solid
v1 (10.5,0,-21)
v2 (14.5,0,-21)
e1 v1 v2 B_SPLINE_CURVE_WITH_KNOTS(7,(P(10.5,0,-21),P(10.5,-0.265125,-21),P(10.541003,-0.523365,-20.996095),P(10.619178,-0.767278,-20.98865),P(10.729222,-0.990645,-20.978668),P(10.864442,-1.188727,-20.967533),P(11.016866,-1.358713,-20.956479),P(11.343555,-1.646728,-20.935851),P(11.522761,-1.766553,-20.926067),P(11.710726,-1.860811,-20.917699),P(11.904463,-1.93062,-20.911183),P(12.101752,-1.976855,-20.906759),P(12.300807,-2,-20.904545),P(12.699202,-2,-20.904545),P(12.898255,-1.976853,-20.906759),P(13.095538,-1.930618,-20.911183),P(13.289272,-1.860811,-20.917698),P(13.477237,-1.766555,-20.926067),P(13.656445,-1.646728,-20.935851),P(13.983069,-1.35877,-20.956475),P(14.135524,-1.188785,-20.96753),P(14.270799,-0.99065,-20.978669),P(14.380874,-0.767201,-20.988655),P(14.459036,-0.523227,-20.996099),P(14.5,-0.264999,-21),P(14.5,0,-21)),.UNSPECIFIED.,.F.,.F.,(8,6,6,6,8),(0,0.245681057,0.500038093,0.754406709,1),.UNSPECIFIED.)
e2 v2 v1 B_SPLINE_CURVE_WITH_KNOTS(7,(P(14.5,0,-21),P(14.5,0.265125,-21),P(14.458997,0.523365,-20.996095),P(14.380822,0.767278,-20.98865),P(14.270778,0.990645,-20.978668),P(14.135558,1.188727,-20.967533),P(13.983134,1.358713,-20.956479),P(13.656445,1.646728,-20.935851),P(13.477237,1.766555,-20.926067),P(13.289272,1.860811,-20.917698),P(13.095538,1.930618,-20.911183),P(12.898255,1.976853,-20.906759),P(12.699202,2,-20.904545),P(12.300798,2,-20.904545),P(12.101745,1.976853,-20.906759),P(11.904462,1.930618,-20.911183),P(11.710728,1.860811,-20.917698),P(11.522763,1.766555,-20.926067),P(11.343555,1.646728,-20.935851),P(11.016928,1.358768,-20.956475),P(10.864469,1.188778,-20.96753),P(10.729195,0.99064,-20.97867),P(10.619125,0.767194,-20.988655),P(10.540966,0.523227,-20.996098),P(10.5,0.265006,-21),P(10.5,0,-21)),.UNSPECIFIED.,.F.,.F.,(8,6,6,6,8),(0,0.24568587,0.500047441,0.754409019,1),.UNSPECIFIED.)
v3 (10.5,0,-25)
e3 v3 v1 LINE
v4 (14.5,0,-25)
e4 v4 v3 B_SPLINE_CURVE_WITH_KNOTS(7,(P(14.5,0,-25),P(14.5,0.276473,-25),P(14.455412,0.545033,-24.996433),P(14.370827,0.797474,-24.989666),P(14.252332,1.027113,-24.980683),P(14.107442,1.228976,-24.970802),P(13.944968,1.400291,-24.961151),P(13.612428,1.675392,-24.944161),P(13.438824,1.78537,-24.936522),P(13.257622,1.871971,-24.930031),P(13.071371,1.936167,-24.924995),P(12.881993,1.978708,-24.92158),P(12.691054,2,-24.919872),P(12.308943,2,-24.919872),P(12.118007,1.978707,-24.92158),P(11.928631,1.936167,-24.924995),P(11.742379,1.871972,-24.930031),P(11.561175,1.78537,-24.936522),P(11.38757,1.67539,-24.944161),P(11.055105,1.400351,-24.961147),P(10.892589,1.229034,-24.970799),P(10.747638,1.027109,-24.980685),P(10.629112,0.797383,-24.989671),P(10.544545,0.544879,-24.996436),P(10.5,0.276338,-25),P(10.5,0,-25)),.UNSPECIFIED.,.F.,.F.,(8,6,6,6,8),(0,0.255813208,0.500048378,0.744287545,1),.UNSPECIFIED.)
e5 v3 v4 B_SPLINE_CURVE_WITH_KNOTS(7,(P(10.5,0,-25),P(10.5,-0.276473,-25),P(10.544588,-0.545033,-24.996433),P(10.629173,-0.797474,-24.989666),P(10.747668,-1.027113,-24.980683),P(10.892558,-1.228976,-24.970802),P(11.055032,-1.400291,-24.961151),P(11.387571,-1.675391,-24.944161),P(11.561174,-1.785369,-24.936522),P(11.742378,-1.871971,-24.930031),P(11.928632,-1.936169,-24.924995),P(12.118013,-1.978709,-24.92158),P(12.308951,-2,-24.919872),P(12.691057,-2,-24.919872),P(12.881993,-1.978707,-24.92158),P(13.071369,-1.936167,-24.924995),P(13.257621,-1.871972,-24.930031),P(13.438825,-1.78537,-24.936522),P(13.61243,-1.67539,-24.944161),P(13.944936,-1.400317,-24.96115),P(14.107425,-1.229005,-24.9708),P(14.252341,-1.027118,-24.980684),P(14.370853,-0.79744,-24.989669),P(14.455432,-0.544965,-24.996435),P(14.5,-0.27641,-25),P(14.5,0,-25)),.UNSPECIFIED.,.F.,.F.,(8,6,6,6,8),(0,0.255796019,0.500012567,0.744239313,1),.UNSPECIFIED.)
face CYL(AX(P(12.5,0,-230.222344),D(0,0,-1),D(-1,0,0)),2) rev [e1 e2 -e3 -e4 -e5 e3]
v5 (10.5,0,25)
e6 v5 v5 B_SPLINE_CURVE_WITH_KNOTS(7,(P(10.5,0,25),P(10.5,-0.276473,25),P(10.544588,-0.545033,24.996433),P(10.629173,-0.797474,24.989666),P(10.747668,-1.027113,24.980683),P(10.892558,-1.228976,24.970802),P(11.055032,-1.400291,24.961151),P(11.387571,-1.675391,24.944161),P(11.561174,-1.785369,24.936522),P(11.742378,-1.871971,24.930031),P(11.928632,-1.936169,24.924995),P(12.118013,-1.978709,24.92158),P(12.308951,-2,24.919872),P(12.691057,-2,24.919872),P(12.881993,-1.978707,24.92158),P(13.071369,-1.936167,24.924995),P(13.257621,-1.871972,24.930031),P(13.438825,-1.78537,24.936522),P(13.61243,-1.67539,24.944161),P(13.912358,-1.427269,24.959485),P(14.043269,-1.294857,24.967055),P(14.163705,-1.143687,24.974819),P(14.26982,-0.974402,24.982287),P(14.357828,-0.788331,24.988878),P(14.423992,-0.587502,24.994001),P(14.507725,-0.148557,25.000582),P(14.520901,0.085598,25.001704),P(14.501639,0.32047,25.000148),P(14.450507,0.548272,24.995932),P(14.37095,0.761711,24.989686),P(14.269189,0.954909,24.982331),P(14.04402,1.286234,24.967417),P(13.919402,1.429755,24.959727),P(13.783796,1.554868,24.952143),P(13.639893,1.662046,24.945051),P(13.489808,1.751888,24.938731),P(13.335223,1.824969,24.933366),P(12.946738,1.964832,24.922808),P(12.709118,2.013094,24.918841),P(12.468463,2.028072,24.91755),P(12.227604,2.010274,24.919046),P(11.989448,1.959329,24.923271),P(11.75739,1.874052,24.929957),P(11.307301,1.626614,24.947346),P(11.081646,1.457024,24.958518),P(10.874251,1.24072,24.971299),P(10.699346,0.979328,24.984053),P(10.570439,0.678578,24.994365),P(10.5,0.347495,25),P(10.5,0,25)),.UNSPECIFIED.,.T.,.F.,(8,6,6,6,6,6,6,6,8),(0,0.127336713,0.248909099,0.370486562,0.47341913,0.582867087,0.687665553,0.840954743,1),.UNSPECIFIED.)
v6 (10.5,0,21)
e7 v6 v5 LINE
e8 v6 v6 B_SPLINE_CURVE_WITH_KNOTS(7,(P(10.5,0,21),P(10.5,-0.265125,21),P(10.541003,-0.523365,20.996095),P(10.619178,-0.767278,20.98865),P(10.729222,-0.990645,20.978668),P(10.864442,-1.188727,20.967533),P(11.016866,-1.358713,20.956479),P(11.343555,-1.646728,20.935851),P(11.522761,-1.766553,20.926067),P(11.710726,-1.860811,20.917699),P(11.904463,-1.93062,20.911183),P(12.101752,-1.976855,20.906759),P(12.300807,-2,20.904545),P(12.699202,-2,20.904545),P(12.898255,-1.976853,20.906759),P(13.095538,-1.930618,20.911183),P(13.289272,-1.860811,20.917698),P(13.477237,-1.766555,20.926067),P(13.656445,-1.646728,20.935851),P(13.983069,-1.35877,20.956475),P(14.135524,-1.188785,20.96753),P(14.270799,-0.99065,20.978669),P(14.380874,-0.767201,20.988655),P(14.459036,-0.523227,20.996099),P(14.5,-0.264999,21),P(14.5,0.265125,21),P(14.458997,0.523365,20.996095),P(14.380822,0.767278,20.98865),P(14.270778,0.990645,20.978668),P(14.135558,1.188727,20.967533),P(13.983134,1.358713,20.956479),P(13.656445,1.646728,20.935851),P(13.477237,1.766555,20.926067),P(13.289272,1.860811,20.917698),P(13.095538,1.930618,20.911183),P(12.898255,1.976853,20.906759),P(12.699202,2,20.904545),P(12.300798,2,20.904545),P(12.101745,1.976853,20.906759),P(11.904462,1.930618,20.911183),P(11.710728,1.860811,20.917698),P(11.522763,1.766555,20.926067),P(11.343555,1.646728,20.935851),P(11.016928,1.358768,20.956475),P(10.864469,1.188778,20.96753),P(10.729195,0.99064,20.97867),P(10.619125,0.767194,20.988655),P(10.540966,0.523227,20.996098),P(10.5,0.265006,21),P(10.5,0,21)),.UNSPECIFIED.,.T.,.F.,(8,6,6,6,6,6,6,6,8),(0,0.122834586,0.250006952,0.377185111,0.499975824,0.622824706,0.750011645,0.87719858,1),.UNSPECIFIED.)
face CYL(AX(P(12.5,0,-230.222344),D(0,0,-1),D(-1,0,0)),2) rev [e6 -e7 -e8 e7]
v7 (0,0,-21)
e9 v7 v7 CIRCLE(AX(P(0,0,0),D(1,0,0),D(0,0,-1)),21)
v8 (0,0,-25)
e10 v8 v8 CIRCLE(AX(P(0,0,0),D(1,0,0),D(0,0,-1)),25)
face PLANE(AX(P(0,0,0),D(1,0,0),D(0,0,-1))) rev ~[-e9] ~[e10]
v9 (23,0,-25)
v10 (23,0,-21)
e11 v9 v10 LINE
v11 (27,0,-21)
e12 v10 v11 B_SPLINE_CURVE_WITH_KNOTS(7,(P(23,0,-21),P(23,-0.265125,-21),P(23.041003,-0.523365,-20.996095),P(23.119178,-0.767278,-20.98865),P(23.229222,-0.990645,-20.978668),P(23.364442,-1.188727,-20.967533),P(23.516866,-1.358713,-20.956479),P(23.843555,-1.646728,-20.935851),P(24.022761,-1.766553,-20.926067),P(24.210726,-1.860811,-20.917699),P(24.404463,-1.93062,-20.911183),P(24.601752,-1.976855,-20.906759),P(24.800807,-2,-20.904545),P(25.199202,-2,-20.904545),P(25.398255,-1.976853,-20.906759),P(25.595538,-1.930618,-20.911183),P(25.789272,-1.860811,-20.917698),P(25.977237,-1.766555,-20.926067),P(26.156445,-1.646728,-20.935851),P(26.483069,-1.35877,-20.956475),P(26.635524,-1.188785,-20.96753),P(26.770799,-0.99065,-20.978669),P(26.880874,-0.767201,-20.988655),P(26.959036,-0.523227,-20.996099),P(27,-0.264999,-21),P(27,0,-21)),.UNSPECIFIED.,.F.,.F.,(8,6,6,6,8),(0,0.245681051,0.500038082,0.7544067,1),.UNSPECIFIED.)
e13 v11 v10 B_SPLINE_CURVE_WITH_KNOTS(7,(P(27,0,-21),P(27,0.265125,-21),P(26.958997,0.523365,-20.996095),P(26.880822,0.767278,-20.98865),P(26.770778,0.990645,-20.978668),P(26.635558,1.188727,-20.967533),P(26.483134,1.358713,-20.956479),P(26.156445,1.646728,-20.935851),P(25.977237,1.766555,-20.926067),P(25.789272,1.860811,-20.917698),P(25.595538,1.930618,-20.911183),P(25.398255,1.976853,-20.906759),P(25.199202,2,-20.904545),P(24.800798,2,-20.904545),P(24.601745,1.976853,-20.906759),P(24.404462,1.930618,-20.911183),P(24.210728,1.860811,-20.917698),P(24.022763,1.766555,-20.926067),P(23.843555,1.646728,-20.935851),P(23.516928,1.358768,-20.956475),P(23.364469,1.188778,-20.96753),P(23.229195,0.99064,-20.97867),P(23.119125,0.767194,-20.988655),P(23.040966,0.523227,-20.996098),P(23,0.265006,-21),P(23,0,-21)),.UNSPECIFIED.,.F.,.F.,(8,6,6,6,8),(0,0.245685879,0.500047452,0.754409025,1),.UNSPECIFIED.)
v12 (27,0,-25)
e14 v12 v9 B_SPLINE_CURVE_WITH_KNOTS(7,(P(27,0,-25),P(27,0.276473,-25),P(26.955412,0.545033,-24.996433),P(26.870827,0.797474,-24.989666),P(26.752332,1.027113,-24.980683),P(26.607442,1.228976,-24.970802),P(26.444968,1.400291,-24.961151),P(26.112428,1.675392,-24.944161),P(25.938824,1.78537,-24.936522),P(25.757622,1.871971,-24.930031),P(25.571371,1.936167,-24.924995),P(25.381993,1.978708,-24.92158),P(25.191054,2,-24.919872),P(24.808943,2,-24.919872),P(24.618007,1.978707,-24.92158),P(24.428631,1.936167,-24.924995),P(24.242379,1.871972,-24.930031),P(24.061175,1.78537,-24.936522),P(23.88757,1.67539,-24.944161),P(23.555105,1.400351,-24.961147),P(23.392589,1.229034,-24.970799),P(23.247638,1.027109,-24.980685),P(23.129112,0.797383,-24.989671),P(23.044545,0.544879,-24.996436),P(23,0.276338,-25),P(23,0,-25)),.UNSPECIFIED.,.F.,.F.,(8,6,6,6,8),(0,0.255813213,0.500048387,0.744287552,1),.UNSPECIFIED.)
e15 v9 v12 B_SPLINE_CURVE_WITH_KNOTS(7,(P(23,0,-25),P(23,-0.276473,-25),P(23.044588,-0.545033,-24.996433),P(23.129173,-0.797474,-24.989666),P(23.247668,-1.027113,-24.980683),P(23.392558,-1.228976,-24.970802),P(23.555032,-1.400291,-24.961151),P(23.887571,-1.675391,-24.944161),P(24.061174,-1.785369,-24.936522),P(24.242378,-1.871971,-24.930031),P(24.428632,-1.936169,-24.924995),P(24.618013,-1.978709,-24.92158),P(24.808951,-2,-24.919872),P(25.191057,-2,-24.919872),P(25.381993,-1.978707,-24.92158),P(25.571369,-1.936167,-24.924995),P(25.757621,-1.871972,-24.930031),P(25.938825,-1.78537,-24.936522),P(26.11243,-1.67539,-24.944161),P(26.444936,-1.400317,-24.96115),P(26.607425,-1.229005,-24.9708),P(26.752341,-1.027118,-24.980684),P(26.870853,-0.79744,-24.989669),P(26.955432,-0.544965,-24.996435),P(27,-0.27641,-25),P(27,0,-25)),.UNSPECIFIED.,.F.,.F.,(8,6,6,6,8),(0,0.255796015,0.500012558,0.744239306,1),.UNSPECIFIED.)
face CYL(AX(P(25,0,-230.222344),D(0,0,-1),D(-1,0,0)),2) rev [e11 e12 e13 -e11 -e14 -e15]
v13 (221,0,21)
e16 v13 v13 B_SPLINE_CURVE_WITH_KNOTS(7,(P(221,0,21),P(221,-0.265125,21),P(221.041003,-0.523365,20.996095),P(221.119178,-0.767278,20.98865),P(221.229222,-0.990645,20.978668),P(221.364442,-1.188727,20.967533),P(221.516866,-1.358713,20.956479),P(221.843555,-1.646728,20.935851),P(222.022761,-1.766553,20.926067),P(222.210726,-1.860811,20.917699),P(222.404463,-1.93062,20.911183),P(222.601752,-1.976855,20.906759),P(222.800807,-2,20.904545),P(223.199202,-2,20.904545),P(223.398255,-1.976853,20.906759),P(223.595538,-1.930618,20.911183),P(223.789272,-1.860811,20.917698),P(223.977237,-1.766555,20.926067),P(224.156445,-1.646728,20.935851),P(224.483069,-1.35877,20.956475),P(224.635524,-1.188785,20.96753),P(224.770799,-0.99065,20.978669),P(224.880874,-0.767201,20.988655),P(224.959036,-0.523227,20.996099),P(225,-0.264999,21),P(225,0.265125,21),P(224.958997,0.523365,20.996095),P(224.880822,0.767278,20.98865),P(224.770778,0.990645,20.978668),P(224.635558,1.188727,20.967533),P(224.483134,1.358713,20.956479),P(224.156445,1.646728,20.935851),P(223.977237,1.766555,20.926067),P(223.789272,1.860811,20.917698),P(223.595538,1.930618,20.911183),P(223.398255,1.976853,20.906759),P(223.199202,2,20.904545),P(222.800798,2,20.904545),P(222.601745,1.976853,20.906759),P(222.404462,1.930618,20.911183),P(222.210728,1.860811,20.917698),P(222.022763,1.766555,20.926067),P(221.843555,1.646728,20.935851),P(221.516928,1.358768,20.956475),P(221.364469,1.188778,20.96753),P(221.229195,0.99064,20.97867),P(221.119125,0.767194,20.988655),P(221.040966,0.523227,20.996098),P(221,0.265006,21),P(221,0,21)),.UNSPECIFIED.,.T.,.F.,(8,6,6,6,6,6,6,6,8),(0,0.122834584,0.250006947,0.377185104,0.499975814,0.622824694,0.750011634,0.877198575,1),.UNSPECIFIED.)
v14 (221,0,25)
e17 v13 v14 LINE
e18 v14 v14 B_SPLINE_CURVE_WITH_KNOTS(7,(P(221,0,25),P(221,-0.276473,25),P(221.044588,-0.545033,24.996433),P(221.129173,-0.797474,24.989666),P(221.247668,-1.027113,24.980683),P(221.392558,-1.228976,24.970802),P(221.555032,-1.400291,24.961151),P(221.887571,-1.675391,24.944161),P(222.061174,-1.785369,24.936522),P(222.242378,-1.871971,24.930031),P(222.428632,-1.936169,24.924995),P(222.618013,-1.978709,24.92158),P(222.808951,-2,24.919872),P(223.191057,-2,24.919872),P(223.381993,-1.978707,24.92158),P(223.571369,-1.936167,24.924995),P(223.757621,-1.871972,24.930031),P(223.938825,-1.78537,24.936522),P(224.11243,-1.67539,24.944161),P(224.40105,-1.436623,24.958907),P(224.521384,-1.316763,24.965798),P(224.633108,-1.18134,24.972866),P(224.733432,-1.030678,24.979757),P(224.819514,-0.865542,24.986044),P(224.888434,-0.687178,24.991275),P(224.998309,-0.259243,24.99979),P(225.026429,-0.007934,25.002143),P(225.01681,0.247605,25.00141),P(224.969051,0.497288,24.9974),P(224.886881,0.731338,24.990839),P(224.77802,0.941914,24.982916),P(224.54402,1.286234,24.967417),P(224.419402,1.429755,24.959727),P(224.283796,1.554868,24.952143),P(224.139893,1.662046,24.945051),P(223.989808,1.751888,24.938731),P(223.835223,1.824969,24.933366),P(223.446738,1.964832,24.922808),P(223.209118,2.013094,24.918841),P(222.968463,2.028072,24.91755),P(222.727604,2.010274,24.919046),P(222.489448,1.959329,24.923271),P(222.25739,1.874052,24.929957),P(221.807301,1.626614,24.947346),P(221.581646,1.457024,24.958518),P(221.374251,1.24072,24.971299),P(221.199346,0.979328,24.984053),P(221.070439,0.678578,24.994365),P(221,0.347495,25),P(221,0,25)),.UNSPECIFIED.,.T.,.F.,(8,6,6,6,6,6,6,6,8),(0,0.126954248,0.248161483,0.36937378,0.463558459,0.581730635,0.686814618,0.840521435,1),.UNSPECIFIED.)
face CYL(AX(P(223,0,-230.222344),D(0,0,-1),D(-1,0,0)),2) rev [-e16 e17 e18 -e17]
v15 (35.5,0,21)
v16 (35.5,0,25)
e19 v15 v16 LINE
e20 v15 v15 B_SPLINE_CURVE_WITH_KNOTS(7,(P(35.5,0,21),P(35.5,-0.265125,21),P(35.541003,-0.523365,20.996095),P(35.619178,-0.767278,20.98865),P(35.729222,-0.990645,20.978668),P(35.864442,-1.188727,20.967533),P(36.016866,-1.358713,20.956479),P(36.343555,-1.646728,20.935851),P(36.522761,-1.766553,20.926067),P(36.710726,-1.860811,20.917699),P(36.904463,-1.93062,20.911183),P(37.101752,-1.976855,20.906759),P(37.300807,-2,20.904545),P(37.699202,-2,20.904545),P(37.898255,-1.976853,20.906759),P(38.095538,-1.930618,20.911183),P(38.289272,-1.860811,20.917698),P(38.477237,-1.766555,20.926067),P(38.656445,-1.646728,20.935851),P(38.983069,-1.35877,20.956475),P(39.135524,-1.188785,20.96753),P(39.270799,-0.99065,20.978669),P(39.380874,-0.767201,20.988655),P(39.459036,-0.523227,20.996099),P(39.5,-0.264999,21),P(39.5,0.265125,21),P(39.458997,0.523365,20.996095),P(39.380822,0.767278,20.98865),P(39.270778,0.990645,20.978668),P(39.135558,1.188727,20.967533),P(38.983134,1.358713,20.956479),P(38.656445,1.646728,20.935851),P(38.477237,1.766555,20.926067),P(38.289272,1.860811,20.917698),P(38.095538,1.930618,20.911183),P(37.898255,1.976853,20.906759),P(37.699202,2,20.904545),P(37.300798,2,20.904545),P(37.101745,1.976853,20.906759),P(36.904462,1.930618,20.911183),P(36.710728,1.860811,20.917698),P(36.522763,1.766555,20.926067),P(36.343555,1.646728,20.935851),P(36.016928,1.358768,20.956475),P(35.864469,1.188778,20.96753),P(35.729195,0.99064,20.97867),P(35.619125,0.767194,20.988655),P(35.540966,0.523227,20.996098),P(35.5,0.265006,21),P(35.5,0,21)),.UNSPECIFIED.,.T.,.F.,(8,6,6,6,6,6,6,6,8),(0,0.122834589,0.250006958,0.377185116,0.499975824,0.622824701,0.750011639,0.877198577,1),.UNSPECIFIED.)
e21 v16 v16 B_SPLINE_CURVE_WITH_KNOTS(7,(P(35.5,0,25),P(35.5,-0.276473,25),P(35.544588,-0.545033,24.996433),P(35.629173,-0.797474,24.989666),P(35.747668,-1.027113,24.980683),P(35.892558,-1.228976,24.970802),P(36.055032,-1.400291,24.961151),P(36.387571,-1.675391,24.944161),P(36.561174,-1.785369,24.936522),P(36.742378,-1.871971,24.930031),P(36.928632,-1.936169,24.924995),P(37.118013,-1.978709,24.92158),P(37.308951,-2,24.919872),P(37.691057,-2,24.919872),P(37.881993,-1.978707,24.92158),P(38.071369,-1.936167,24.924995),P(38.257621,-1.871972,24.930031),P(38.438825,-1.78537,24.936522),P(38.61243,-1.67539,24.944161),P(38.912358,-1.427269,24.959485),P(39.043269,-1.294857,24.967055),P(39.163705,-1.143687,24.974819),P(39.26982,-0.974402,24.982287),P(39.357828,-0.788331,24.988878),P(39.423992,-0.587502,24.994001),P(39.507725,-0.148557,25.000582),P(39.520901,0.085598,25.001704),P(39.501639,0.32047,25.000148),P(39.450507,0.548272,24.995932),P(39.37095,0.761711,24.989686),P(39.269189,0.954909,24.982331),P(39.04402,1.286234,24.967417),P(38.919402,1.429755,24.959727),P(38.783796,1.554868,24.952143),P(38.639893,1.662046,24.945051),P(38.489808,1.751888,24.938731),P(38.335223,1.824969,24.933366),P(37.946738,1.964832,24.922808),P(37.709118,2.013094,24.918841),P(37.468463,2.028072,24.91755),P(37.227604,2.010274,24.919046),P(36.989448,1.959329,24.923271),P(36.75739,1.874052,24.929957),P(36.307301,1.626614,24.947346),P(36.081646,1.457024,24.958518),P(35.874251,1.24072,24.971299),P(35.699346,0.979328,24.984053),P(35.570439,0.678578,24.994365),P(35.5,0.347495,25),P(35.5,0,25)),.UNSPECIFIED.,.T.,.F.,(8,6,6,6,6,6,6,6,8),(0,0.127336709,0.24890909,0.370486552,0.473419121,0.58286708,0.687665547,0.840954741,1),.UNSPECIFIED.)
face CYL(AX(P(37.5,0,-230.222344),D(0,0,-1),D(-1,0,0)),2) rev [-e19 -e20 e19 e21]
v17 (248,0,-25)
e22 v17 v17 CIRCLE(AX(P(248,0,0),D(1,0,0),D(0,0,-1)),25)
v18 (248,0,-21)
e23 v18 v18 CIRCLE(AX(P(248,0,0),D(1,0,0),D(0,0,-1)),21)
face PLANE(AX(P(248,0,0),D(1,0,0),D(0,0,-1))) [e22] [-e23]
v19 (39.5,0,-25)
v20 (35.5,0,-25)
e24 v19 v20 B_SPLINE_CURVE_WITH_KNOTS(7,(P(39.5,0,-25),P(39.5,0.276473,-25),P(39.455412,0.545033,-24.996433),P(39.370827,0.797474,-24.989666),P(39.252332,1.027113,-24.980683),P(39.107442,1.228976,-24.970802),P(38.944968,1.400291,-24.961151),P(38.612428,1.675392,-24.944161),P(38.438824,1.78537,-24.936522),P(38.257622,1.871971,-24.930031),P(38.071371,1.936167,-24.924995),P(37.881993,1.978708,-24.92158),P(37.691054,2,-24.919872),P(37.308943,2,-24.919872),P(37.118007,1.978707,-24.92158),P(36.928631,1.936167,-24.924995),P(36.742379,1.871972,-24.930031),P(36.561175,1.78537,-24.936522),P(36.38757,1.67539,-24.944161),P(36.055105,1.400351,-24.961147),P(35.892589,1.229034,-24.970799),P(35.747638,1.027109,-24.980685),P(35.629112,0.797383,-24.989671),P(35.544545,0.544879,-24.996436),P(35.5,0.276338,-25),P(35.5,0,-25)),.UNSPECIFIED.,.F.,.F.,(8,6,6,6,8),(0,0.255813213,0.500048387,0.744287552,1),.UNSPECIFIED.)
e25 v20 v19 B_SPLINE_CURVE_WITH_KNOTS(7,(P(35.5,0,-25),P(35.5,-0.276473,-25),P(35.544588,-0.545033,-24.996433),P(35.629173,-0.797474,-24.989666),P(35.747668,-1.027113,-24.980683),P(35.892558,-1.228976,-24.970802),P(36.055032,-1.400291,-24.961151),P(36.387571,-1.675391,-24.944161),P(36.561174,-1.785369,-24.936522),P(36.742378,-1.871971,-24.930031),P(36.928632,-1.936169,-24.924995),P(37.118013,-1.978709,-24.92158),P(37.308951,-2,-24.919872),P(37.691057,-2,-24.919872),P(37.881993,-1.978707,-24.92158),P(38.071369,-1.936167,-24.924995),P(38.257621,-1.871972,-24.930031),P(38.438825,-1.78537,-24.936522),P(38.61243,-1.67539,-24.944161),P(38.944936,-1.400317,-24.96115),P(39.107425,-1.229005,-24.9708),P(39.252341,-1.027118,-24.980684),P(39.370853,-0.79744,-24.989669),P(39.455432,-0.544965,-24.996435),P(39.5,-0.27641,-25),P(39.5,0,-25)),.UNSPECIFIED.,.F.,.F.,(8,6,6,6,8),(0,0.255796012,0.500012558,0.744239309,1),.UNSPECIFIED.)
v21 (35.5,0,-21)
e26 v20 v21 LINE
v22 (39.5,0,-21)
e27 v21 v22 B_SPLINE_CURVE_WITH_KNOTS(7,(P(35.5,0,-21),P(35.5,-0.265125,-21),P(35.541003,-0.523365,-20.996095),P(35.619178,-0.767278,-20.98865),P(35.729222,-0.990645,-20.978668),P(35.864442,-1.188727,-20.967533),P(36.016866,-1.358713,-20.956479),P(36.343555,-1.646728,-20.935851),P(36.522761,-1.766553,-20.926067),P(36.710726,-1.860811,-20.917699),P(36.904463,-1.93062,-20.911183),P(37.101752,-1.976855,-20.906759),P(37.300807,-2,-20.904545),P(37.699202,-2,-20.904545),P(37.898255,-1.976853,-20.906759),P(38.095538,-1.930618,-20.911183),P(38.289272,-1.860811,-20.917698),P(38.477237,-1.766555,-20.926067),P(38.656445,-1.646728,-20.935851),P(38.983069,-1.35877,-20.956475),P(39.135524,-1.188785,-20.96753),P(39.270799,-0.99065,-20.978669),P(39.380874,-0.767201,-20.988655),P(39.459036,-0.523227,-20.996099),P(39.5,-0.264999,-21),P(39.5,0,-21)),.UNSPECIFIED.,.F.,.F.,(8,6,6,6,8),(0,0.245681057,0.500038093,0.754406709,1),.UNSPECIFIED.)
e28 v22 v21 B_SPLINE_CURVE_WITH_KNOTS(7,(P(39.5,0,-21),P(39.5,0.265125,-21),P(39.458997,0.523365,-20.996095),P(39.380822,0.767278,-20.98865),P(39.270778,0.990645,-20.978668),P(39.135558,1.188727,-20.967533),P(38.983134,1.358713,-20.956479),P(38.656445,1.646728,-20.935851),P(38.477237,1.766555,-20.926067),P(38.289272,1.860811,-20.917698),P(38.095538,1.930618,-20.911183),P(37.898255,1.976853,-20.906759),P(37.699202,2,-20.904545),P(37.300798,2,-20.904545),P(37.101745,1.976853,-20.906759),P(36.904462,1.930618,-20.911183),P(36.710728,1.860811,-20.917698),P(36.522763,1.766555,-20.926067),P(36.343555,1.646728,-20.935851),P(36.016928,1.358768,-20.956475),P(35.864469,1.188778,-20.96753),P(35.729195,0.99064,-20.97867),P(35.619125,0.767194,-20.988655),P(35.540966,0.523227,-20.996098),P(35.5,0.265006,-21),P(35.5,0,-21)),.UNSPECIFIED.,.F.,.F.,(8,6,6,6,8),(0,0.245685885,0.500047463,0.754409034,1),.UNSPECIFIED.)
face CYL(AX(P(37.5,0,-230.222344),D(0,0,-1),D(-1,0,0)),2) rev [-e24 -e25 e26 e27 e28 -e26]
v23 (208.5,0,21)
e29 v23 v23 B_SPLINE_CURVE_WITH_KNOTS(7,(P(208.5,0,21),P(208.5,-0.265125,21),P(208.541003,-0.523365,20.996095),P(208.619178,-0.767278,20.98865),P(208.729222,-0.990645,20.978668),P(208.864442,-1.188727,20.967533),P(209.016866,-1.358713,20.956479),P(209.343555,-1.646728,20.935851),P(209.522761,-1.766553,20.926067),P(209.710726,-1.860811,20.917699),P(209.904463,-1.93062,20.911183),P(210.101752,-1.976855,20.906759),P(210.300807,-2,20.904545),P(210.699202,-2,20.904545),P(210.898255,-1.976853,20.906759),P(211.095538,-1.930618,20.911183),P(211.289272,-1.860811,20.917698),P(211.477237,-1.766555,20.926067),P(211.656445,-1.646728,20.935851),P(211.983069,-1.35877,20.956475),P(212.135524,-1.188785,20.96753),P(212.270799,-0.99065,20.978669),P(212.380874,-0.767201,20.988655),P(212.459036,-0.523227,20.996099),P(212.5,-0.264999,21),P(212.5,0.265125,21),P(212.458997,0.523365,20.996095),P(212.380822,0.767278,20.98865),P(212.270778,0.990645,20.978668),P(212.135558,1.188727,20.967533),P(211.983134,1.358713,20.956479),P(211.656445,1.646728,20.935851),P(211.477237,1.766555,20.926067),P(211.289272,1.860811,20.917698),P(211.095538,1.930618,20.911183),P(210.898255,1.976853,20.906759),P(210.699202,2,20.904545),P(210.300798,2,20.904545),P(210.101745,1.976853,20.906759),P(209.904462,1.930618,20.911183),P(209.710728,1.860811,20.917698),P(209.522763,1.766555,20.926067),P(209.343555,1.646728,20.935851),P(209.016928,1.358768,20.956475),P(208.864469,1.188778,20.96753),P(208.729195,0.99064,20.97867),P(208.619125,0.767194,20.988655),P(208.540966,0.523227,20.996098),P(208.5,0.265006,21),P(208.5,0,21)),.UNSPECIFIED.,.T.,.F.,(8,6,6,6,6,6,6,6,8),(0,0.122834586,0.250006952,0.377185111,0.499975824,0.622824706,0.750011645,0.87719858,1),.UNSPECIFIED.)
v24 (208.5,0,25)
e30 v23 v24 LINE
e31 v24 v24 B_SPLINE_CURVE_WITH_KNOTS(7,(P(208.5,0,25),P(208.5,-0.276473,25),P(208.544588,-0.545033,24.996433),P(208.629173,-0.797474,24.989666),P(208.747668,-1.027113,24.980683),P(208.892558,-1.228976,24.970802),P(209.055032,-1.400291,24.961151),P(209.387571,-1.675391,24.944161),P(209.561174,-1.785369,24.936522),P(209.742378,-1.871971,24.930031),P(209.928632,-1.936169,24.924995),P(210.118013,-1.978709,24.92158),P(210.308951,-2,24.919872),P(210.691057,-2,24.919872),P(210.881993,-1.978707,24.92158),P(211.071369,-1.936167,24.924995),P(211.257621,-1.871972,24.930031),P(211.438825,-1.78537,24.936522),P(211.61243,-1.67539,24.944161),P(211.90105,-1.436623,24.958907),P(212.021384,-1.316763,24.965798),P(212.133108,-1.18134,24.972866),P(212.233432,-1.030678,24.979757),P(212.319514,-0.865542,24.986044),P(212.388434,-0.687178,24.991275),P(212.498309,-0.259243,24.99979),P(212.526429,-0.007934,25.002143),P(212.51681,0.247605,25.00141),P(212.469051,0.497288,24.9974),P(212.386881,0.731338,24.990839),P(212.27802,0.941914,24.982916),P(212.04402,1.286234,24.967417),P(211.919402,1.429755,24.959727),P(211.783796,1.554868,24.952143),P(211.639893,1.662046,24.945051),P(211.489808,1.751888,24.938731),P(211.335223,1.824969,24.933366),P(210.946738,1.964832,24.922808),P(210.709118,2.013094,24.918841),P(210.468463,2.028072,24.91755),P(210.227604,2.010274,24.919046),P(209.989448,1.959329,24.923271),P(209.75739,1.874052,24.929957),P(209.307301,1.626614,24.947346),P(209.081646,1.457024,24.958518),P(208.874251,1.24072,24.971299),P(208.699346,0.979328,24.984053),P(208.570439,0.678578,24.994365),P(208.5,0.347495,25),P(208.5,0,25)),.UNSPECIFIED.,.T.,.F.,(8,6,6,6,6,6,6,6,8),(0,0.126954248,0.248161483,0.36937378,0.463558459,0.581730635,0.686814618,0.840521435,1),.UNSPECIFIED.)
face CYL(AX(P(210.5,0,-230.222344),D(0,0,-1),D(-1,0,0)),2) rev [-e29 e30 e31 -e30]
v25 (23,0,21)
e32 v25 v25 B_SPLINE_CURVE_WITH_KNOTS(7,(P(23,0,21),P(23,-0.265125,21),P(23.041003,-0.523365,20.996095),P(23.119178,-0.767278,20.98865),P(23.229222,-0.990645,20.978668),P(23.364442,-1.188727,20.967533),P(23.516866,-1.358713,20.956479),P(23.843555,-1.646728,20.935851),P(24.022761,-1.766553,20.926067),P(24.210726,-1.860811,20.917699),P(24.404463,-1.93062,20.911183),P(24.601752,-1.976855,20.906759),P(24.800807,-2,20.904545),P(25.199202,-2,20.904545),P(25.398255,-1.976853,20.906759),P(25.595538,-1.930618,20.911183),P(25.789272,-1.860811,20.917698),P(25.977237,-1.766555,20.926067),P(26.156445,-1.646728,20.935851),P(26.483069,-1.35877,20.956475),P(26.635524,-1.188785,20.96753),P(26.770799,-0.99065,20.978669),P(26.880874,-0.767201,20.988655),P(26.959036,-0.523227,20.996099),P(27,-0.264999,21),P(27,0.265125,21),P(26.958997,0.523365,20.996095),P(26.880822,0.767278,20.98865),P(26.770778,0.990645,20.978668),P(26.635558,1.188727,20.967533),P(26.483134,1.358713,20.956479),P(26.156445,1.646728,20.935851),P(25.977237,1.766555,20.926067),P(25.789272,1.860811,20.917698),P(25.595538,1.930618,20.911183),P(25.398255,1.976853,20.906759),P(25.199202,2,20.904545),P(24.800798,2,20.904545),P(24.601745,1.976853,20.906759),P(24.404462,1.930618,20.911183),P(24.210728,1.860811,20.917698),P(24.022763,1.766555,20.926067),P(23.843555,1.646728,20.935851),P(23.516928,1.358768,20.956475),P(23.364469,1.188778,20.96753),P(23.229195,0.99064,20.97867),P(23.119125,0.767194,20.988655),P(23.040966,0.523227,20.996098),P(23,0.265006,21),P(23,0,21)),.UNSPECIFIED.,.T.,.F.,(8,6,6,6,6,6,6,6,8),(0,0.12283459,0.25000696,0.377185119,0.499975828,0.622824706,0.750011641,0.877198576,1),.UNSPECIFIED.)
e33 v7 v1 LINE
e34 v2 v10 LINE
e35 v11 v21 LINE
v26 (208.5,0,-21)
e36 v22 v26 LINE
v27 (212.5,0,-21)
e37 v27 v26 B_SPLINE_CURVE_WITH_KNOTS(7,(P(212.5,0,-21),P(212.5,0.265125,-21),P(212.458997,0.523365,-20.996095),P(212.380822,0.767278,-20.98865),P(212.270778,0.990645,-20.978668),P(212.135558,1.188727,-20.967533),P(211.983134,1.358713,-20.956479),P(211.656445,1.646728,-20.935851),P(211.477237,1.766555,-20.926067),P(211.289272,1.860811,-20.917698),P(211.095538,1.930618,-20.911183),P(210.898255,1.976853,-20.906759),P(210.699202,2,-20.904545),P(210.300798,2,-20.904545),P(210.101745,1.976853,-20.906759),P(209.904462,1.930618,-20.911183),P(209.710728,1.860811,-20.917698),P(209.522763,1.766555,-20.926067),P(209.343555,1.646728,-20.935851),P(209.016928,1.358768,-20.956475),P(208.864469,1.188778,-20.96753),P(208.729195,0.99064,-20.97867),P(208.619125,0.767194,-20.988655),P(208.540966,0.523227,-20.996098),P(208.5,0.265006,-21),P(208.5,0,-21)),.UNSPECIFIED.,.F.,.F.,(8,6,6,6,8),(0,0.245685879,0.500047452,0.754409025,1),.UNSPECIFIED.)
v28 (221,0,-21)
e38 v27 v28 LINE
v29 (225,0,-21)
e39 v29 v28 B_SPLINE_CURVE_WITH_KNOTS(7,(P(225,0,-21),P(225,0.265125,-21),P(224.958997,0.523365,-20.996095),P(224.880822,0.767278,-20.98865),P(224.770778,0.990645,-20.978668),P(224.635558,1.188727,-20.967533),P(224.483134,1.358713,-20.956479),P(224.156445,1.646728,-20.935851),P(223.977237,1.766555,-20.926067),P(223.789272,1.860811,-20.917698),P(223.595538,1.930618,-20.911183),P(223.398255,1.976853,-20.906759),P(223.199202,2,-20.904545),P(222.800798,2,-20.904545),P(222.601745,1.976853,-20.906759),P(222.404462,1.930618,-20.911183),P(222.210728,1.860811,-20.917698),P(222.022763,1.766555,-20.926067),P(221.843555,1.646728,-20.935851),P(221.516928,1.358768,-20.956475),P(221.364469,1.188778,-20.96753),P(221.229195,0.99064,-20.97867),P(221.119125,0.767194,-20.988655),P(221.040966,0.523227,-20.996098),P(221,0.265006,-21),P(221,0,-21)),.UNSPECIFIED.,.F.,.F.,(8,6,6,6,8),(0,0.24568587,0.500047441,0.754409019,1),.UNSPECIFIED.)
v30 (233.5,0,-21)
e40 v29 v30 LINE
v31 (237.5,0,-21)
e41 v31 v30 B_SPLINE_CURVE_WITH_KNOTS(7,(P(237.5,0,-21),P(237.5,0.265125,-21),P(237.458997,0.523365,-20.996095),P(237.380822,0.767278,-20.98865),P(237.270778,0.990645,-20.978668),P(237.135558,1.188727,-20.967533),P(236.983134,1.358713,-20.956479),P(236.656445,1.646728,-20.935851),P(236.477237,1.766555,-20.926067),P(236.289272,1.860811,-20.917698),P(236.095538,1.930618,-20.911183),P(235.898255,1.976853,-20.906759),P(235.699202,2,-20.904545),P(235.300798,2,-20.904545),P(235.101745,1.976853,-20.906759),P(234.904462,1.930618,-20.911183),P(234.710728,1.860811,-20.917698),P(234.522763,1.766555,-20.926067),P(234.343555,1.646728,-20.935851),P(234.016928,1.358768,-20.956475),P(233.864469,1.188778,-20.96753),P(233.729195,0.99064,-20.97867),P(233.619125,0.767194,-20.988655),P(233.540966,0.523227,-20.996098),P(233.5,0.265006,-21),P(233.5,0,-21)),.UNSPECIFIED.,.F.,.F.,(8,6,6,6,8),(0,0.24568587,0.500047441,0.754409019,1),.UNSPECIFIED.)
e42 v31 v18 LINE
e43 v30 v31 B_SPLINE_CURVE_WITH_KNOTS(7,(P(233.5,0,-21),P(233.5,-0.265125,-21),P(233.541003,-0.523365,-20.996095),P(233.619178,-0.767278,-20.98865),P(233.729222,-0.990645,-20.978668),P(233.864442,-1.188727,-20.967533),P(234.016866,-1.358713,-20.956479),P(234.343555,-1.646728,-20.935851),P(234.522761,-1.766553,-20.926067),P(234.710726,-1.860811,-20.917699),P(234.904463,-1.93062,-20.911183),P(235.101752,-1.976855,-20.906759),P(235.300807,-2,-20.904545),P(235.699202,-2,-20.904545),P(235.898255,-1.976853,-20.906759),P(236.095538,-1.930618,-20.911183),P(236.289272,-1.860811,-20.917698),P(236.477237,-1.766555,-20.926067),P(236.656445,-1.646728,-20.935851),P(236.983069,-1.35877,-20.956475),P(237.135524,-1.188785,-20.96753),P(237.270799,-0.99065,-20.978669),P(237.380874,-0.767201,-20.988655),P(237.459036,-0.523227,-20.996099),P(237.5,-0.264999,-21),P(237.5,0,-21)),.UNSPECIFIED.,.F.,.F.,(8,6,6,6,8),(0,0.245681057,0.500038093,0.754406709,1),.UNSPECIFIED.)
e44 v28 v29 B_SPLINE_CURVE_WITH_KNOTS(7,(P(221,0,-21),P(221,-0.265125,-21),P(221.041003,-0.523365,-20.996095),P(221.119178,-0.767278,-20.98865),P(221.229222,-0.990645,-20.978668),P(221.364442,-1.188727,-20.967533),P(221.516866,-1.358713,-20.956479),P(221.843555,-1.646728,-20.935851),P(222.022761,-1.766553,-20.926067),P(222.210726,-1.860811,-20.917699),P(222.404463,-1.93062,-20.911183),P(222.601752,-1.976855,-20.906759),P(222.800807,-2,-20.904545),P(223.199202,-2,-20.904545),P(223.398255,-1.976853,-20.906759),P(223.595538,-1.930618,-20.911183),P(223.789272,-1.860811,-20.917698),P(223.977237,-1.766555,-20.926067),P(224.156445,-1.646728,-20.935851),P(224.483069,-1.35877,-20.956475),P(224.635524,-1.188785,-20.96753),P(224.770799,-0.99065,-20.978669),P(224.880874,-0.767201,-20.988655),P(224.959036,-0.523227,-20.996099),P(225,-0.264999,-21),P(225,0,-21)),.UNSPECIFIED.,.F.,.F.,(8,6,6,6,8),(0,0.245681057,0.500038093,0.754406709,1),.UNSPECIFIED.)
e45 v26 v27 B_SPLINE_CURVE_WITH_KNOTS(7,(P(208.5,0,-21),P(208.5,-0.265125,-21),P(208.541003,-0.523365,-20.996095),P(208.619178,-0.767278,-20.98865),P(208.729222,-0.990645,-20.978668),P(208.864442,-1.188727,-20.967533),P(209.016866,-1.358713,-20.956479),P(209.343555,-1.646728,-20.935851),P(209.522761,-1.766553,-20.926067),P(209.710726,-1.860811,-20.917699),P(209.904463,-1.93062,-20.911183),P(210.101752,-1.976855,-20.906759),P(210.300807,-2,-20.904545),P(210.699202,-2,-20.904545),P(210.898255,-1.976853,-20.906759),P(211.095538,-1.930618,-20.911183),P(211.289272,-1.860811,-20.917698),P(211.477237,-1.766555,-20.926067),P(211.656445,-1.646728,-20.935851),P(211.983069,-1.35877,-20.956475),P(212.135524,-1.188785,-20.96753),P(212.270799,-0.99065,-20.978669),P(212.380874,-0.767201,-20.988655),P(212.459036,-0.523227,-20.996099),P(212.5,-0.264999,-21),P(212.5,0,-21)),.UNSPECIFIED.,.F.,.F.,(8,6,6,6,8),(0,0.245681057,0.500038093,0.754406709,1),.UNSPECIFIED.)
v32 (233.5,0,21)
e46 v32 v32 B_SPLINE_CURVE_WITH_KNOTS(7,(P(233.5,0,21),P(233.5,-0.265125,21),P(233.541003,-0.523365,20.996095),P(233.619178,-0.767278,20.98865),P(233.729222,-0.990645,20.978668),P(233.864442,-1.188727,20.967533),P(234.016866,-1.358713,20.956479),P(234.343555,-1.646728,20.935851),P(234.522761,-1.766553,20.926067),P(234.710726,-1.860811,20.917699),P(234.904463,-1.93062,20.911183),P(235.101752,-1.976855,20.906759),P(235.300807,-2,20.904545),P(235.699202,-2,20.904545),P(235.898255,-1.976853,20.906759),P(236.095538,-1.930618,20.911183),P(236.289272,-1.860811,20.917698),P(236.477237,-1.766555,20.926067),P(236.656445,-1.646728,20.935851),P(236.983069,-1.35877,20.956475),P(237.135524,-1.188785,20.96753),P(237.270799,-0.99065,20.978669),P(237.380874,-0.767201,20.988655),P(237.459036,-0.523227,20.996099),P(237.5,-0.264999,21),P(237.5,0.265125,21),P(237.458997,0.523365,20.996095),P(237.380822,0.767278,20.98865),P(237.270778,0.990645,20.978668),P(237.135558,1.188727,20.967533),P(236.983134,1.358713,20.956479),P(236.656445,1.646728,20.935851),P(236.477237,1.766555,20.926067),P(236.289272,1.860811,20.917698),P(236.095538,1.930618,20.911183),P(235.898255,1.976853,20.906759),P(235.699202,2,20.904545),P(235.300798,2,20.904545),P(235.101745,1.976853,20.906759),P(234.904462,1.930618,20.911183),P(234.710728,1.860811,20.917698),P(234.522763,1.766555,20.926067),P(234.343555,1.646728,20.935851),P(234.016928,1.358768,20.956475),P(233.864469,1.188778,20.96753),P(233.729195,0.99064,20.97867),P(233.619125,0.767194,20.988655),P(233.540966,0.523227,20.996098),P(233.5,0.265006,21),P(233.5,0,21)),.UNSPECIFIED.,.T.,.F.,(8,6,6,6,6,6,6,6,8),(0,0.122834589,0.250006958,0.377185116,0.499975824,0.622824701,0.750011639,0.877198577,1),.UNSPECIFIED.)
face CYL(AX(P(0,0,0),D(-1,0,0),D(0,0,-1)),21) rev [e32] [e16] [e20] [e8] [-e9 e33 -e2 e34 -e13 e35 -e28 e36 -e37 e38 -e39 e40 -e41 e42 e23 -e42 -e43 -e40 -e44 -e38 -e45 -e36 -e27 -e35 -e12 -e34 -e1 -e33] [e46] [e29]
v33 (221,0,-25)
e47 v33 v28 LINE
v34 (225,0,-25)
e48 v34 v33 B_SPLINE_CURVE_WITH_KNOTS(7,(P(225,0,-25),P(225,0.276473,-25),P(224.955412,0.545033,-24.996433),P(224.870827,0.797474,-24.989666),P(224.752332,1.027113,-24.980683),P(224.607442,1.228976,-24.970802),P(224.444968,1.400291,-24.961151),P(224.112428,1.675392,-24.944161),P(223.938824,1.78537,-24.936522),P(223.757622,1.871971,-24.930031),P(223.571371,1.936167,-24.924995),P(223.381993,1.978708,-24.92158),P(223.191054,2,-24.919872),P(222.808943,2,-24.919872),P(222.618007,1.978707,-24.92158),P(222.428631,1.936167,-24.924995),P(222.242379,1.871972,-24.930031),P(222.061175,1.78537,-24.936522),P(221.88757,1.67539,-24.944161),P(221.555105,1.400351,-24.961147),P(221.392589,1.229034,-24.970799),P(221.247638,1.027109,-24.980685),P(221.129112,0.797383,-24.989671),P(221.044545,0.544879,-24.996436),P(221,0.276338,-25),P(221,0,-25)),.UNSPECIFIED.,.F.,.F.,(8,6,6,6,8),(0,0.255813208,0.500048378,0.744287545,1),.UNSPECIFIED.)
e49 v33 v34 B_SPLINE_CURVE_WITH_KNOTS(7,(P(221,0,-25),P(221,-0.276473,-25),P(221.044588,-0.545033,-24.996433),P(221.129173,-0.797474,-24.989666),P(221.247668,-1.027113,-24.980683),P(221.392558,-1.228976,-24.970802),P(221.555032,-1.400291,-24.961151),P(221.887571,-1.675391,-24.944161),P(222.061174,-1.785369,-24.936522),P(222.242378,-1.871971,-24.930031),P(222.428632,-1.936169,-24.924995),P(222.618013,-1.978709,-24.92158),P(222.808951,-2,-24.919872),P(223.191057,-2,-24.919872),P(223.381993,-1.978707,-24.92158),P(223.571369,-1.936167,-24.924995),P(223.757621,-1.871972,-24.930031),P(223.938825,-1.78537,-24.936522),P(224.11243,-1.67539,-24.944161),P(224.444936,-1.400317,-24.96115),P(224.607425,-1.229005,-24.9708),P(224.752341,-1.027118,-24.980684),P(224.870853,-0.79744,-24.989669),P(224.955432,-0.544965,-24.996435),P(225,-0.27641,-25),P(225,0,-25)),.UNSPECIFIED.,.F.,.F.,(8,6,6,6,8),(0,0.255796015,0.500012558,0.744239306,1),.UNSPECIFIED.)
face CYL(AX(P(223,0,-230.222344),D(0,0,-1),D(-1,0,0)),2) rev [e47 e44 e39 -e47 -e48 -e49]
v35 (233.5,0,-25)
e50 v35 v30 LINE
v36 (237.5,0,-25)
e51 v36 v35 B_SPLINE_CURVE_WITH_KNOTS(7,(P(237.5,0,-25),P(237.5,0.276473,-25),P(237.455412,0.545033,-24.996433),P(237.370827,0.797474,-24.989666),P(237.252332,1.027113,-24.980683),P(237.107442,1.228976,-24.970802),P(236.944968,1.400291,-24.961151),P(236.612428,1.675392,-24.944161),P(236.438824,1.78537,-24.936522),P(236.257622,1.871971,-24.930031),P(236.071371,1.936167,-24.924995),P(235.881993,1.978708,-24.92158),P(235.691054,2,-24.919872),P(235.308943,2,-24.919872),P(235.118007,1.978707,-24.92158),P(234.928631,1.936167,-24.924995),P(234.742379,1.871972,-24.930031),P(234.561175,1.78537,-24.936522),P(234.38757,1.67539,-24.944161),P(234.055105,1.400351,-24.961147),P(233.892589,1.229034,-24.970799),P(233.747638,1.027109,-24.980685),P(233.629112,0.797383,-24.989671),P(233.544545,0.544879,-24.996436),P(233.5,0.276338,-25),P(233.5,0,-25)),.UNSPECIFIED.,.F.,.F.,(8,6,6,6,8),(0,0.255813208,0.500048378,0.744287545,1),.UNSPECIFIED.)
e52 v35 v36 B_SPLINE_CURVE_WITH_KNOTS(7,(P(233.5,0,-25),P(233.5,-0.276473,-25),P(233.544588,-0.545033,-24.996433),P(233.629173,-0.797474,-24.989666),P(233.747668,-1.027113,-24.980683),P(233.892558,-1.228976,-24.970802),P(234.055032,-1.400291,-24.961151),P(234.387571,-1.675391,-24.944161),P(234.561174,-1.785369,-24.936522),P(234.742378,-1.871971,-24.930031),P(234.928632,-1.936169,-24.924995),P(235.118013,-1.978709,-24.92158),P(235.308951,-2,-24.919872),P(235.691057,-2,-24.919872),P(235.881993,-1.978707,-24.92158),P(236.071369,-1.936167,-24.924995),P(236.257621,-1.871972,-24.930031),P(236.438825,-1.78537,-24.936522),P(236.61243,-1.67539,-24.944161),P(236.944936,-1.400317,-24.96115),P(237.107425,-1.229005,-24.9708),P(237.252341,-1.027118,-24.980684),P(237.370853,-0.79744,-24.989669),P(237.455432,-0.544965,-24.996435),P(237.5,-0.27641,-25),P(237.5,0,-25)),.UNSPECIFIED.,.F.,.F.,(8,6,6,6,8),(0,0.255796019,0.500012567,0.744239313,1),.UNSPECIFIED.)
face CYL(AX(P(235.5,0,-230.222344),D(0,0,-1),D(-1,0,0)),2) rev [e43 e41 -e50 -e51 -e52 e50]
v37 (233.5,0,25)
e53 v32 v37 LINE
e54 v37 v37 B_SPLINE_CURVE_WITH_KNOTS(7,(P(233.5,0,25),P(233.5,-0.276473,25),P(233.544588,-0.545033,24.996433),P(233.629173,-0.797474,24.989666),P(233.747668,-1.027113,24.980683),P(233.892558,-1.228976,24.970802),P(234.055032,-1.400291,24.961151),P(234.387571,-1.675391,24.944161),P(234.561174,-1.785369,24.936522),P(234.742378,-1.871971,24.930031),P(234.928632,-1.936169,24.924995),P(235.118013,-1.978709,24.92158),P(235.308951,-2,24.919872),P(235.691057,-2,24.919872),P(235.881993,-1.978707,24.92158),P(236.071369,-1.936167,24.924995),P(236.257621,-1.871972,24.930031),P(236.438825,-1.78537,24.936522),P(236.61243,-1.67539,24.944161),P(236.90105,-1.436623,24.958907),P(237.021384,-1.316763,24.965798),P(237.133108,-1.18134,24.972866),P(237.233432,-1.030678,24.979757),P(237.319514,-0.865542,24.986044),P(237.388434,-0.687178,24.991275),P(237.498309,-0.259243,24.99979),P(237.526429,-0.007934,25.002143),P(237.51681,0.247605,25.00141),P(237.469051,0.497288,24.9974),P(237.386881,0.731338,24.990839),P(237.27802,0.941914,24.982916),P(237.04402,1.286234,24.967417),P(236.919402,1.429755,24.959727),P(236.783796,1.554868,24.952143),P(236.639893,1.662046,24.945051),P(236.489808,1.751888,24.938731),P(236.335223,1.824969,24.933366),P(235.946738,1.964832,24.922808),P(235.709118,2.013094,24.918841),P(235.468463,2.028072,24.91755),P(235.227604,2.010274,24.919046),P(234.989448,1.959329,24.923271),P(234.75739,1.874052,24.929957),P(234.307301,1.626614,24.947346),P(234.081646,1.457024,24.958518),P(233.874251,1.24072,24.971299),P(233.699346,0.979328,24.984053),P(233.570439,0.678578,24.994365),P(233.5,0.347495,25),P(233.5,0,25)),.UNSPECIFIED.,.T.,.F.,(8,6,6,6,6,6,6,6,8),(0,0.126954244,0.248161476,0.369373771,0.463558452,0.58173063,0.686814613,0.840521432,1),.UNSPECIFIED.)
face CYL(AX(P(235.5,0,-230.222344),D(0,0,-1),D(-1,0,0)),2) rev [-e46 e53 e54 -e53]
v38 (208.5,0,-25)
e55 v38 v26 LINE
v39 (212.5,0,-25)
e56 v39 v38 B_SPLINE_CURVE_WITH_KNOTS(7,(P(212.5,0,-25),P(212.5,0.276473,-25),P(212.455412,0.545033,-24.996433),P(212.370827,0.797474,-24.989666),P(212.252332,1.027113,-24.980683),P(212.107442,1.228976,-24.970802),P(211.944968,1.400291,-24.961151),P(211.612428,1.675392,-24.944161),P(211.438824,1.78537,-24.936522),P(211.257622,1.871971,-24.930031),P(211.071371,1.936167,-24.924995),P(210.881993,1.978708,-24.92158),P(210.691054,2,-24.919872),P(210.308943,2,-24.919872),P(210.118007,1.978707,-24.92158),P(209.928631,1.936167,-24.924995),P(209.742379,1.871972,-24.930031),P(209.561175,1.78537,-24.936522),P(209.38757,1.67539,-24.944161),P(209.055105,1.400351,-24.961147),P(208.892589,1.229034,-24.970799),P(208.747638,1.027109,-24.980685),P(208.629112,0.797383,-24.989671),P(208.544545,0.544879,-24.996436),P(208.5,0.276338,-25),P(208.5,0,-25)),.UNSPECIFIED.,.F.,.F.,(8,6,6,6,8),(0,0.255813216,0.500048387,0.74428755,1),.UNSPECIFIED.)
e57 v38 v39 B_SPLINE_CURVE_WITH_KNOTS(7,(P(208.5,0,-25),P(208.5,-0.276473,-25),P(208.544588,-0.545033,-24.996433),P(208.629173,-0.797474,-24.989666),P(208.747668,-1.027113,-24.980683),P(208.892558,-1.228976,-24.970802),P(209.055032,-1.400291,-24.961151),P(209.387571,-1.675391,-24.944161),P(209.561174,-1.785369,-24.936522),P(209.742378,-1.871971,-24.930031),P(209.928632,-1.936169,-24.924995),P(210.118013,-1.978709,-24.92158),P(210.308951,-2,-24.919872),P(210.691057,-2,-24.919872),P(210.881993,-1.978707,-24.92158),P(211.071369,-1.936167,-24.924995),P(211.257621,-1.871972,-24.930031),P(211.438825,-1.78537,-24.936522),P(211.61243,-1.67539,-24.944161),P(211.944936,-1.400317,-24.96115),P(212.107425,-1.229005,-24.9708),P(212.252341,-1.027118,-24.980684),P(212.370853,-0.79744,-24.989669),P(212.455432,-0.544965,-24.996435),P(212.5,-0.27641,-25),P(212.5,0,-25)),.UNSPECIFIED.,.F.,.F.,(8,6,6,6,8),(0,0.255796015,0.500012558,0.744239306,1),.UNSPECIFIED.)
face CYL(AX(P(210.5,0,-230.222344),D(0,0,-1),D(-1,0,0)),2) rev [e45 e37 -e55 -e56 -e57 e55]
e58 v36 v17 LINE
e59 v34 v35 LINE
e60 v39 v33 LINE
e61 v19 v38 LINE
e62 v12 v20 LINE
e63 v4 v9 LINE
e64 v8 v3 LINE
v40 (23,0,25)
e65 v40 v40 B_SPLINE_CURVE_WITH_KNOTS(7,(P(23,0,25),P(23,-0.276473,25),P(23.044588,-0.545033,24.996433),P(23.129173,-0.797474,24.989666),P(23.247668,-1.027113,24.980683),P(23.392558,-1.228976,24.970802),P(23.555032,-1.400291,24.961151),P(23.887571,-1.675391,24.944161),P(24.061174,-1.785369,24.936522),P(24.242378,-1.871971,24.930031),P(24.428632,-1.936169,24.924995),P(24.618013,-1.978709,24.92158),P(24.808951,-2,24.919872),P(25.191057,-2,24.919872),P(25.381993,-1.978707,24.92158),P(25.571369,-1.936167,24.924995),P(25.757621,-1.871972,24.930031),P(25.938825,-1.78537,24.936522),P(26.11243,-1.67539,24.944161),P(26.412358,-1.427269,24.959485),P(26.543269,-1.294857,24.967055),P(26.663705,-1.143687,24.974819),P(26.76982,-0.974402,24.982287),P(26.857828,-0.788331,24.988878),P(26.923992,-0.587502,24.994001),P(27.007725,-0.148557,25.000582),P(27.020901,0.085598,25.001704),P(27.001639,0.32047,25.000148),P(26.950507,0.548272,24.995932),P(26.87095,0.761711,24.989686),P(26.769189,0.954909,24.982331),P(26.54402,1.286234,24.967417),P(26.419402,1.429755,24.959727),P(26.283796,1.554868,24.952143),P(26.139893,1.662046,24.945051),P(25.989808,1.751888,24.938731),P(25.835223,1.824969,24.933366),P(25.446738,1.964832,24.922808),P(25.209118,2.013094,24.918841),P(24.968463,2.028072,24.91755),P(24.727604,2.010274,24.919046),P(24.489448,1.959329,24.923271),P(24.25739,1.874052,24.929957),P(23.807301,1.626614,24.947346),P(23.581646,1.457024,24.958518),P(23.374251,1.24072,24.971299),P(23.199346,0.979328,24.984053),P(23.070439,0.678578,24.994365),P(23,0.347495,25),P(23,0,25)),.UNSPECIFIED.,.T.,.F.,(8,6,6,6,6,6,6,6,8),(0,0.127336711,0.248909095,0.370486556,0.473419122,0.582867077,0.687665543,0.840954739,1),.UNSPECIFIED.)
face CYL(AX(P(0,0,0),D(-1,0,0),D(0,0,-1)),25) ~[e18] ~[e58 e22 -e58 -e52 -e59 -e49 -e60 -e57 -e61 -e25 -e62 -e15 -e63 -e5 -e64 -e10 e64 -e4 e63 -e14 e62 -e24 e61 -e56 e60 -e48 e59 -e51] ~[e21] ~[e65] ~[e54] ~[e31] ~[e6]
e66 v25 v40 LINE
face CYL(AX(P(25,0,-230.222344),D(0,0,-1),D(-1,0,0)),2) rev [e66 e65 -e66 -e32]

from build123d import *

# Parameters (mm, degrees)
SKETCH_2_R               = 25
SKETCH_2_R_2             = 21
EXTRUDE_2_DEPTH          = 248
CUT_EXTRUDE_2_DEPTH      = 10
CUT_EXTRUDE_2_DEPTH_BACK = 255.222343629
SKETCH_4_R               = 2


with BuildPart() as part:
    # Эскиз2 → Бобышка-Вытянуть2 (new body)
    with BuildSketch(Plane(origin=(0, 0, 0), x_dir=(0, 0, -1), z_dir=(1, 0, 0))):
        Circle(SKETCH_2_R)
        Circle(SKETCH_2_R_2, mode=Mode.SUBTRACT)
    extrude(amount=EXTRUDE_2_DEPTH)

    # Эскиз4 → Вырез-Вытянуть2 (cut, two sides: drawn at the far end of the back side and taken through both)
    with BuildSketch(Plane.XY.offset(25).offset(-CUT_EXTRUDE_2_DEPTH_BACK)):
        with Locations((12.5, 0)):
            Circle(SKETCH_4_R)
        with Locations((235.5, 0)):
            Circle(SKETCH_4_R)
        with Locations((25, 0)):
            Circle(SKETCH_4_R)
        with Locations((37.5, 0)):
            Circle(SKETCH_4_R)
        with Locations((223, 0)):
            Circle(SKETCH_4_R)
        with Locations((210.5, 0)):
            Circle(SKETCH_4_R)
    extrude(amount=CUT_EXTRUDE_2_DEPTH + CUT_EXTRUDE_2_DEPTH_BACK, mode=Mode.SUBTRACT)


solid = part.part
